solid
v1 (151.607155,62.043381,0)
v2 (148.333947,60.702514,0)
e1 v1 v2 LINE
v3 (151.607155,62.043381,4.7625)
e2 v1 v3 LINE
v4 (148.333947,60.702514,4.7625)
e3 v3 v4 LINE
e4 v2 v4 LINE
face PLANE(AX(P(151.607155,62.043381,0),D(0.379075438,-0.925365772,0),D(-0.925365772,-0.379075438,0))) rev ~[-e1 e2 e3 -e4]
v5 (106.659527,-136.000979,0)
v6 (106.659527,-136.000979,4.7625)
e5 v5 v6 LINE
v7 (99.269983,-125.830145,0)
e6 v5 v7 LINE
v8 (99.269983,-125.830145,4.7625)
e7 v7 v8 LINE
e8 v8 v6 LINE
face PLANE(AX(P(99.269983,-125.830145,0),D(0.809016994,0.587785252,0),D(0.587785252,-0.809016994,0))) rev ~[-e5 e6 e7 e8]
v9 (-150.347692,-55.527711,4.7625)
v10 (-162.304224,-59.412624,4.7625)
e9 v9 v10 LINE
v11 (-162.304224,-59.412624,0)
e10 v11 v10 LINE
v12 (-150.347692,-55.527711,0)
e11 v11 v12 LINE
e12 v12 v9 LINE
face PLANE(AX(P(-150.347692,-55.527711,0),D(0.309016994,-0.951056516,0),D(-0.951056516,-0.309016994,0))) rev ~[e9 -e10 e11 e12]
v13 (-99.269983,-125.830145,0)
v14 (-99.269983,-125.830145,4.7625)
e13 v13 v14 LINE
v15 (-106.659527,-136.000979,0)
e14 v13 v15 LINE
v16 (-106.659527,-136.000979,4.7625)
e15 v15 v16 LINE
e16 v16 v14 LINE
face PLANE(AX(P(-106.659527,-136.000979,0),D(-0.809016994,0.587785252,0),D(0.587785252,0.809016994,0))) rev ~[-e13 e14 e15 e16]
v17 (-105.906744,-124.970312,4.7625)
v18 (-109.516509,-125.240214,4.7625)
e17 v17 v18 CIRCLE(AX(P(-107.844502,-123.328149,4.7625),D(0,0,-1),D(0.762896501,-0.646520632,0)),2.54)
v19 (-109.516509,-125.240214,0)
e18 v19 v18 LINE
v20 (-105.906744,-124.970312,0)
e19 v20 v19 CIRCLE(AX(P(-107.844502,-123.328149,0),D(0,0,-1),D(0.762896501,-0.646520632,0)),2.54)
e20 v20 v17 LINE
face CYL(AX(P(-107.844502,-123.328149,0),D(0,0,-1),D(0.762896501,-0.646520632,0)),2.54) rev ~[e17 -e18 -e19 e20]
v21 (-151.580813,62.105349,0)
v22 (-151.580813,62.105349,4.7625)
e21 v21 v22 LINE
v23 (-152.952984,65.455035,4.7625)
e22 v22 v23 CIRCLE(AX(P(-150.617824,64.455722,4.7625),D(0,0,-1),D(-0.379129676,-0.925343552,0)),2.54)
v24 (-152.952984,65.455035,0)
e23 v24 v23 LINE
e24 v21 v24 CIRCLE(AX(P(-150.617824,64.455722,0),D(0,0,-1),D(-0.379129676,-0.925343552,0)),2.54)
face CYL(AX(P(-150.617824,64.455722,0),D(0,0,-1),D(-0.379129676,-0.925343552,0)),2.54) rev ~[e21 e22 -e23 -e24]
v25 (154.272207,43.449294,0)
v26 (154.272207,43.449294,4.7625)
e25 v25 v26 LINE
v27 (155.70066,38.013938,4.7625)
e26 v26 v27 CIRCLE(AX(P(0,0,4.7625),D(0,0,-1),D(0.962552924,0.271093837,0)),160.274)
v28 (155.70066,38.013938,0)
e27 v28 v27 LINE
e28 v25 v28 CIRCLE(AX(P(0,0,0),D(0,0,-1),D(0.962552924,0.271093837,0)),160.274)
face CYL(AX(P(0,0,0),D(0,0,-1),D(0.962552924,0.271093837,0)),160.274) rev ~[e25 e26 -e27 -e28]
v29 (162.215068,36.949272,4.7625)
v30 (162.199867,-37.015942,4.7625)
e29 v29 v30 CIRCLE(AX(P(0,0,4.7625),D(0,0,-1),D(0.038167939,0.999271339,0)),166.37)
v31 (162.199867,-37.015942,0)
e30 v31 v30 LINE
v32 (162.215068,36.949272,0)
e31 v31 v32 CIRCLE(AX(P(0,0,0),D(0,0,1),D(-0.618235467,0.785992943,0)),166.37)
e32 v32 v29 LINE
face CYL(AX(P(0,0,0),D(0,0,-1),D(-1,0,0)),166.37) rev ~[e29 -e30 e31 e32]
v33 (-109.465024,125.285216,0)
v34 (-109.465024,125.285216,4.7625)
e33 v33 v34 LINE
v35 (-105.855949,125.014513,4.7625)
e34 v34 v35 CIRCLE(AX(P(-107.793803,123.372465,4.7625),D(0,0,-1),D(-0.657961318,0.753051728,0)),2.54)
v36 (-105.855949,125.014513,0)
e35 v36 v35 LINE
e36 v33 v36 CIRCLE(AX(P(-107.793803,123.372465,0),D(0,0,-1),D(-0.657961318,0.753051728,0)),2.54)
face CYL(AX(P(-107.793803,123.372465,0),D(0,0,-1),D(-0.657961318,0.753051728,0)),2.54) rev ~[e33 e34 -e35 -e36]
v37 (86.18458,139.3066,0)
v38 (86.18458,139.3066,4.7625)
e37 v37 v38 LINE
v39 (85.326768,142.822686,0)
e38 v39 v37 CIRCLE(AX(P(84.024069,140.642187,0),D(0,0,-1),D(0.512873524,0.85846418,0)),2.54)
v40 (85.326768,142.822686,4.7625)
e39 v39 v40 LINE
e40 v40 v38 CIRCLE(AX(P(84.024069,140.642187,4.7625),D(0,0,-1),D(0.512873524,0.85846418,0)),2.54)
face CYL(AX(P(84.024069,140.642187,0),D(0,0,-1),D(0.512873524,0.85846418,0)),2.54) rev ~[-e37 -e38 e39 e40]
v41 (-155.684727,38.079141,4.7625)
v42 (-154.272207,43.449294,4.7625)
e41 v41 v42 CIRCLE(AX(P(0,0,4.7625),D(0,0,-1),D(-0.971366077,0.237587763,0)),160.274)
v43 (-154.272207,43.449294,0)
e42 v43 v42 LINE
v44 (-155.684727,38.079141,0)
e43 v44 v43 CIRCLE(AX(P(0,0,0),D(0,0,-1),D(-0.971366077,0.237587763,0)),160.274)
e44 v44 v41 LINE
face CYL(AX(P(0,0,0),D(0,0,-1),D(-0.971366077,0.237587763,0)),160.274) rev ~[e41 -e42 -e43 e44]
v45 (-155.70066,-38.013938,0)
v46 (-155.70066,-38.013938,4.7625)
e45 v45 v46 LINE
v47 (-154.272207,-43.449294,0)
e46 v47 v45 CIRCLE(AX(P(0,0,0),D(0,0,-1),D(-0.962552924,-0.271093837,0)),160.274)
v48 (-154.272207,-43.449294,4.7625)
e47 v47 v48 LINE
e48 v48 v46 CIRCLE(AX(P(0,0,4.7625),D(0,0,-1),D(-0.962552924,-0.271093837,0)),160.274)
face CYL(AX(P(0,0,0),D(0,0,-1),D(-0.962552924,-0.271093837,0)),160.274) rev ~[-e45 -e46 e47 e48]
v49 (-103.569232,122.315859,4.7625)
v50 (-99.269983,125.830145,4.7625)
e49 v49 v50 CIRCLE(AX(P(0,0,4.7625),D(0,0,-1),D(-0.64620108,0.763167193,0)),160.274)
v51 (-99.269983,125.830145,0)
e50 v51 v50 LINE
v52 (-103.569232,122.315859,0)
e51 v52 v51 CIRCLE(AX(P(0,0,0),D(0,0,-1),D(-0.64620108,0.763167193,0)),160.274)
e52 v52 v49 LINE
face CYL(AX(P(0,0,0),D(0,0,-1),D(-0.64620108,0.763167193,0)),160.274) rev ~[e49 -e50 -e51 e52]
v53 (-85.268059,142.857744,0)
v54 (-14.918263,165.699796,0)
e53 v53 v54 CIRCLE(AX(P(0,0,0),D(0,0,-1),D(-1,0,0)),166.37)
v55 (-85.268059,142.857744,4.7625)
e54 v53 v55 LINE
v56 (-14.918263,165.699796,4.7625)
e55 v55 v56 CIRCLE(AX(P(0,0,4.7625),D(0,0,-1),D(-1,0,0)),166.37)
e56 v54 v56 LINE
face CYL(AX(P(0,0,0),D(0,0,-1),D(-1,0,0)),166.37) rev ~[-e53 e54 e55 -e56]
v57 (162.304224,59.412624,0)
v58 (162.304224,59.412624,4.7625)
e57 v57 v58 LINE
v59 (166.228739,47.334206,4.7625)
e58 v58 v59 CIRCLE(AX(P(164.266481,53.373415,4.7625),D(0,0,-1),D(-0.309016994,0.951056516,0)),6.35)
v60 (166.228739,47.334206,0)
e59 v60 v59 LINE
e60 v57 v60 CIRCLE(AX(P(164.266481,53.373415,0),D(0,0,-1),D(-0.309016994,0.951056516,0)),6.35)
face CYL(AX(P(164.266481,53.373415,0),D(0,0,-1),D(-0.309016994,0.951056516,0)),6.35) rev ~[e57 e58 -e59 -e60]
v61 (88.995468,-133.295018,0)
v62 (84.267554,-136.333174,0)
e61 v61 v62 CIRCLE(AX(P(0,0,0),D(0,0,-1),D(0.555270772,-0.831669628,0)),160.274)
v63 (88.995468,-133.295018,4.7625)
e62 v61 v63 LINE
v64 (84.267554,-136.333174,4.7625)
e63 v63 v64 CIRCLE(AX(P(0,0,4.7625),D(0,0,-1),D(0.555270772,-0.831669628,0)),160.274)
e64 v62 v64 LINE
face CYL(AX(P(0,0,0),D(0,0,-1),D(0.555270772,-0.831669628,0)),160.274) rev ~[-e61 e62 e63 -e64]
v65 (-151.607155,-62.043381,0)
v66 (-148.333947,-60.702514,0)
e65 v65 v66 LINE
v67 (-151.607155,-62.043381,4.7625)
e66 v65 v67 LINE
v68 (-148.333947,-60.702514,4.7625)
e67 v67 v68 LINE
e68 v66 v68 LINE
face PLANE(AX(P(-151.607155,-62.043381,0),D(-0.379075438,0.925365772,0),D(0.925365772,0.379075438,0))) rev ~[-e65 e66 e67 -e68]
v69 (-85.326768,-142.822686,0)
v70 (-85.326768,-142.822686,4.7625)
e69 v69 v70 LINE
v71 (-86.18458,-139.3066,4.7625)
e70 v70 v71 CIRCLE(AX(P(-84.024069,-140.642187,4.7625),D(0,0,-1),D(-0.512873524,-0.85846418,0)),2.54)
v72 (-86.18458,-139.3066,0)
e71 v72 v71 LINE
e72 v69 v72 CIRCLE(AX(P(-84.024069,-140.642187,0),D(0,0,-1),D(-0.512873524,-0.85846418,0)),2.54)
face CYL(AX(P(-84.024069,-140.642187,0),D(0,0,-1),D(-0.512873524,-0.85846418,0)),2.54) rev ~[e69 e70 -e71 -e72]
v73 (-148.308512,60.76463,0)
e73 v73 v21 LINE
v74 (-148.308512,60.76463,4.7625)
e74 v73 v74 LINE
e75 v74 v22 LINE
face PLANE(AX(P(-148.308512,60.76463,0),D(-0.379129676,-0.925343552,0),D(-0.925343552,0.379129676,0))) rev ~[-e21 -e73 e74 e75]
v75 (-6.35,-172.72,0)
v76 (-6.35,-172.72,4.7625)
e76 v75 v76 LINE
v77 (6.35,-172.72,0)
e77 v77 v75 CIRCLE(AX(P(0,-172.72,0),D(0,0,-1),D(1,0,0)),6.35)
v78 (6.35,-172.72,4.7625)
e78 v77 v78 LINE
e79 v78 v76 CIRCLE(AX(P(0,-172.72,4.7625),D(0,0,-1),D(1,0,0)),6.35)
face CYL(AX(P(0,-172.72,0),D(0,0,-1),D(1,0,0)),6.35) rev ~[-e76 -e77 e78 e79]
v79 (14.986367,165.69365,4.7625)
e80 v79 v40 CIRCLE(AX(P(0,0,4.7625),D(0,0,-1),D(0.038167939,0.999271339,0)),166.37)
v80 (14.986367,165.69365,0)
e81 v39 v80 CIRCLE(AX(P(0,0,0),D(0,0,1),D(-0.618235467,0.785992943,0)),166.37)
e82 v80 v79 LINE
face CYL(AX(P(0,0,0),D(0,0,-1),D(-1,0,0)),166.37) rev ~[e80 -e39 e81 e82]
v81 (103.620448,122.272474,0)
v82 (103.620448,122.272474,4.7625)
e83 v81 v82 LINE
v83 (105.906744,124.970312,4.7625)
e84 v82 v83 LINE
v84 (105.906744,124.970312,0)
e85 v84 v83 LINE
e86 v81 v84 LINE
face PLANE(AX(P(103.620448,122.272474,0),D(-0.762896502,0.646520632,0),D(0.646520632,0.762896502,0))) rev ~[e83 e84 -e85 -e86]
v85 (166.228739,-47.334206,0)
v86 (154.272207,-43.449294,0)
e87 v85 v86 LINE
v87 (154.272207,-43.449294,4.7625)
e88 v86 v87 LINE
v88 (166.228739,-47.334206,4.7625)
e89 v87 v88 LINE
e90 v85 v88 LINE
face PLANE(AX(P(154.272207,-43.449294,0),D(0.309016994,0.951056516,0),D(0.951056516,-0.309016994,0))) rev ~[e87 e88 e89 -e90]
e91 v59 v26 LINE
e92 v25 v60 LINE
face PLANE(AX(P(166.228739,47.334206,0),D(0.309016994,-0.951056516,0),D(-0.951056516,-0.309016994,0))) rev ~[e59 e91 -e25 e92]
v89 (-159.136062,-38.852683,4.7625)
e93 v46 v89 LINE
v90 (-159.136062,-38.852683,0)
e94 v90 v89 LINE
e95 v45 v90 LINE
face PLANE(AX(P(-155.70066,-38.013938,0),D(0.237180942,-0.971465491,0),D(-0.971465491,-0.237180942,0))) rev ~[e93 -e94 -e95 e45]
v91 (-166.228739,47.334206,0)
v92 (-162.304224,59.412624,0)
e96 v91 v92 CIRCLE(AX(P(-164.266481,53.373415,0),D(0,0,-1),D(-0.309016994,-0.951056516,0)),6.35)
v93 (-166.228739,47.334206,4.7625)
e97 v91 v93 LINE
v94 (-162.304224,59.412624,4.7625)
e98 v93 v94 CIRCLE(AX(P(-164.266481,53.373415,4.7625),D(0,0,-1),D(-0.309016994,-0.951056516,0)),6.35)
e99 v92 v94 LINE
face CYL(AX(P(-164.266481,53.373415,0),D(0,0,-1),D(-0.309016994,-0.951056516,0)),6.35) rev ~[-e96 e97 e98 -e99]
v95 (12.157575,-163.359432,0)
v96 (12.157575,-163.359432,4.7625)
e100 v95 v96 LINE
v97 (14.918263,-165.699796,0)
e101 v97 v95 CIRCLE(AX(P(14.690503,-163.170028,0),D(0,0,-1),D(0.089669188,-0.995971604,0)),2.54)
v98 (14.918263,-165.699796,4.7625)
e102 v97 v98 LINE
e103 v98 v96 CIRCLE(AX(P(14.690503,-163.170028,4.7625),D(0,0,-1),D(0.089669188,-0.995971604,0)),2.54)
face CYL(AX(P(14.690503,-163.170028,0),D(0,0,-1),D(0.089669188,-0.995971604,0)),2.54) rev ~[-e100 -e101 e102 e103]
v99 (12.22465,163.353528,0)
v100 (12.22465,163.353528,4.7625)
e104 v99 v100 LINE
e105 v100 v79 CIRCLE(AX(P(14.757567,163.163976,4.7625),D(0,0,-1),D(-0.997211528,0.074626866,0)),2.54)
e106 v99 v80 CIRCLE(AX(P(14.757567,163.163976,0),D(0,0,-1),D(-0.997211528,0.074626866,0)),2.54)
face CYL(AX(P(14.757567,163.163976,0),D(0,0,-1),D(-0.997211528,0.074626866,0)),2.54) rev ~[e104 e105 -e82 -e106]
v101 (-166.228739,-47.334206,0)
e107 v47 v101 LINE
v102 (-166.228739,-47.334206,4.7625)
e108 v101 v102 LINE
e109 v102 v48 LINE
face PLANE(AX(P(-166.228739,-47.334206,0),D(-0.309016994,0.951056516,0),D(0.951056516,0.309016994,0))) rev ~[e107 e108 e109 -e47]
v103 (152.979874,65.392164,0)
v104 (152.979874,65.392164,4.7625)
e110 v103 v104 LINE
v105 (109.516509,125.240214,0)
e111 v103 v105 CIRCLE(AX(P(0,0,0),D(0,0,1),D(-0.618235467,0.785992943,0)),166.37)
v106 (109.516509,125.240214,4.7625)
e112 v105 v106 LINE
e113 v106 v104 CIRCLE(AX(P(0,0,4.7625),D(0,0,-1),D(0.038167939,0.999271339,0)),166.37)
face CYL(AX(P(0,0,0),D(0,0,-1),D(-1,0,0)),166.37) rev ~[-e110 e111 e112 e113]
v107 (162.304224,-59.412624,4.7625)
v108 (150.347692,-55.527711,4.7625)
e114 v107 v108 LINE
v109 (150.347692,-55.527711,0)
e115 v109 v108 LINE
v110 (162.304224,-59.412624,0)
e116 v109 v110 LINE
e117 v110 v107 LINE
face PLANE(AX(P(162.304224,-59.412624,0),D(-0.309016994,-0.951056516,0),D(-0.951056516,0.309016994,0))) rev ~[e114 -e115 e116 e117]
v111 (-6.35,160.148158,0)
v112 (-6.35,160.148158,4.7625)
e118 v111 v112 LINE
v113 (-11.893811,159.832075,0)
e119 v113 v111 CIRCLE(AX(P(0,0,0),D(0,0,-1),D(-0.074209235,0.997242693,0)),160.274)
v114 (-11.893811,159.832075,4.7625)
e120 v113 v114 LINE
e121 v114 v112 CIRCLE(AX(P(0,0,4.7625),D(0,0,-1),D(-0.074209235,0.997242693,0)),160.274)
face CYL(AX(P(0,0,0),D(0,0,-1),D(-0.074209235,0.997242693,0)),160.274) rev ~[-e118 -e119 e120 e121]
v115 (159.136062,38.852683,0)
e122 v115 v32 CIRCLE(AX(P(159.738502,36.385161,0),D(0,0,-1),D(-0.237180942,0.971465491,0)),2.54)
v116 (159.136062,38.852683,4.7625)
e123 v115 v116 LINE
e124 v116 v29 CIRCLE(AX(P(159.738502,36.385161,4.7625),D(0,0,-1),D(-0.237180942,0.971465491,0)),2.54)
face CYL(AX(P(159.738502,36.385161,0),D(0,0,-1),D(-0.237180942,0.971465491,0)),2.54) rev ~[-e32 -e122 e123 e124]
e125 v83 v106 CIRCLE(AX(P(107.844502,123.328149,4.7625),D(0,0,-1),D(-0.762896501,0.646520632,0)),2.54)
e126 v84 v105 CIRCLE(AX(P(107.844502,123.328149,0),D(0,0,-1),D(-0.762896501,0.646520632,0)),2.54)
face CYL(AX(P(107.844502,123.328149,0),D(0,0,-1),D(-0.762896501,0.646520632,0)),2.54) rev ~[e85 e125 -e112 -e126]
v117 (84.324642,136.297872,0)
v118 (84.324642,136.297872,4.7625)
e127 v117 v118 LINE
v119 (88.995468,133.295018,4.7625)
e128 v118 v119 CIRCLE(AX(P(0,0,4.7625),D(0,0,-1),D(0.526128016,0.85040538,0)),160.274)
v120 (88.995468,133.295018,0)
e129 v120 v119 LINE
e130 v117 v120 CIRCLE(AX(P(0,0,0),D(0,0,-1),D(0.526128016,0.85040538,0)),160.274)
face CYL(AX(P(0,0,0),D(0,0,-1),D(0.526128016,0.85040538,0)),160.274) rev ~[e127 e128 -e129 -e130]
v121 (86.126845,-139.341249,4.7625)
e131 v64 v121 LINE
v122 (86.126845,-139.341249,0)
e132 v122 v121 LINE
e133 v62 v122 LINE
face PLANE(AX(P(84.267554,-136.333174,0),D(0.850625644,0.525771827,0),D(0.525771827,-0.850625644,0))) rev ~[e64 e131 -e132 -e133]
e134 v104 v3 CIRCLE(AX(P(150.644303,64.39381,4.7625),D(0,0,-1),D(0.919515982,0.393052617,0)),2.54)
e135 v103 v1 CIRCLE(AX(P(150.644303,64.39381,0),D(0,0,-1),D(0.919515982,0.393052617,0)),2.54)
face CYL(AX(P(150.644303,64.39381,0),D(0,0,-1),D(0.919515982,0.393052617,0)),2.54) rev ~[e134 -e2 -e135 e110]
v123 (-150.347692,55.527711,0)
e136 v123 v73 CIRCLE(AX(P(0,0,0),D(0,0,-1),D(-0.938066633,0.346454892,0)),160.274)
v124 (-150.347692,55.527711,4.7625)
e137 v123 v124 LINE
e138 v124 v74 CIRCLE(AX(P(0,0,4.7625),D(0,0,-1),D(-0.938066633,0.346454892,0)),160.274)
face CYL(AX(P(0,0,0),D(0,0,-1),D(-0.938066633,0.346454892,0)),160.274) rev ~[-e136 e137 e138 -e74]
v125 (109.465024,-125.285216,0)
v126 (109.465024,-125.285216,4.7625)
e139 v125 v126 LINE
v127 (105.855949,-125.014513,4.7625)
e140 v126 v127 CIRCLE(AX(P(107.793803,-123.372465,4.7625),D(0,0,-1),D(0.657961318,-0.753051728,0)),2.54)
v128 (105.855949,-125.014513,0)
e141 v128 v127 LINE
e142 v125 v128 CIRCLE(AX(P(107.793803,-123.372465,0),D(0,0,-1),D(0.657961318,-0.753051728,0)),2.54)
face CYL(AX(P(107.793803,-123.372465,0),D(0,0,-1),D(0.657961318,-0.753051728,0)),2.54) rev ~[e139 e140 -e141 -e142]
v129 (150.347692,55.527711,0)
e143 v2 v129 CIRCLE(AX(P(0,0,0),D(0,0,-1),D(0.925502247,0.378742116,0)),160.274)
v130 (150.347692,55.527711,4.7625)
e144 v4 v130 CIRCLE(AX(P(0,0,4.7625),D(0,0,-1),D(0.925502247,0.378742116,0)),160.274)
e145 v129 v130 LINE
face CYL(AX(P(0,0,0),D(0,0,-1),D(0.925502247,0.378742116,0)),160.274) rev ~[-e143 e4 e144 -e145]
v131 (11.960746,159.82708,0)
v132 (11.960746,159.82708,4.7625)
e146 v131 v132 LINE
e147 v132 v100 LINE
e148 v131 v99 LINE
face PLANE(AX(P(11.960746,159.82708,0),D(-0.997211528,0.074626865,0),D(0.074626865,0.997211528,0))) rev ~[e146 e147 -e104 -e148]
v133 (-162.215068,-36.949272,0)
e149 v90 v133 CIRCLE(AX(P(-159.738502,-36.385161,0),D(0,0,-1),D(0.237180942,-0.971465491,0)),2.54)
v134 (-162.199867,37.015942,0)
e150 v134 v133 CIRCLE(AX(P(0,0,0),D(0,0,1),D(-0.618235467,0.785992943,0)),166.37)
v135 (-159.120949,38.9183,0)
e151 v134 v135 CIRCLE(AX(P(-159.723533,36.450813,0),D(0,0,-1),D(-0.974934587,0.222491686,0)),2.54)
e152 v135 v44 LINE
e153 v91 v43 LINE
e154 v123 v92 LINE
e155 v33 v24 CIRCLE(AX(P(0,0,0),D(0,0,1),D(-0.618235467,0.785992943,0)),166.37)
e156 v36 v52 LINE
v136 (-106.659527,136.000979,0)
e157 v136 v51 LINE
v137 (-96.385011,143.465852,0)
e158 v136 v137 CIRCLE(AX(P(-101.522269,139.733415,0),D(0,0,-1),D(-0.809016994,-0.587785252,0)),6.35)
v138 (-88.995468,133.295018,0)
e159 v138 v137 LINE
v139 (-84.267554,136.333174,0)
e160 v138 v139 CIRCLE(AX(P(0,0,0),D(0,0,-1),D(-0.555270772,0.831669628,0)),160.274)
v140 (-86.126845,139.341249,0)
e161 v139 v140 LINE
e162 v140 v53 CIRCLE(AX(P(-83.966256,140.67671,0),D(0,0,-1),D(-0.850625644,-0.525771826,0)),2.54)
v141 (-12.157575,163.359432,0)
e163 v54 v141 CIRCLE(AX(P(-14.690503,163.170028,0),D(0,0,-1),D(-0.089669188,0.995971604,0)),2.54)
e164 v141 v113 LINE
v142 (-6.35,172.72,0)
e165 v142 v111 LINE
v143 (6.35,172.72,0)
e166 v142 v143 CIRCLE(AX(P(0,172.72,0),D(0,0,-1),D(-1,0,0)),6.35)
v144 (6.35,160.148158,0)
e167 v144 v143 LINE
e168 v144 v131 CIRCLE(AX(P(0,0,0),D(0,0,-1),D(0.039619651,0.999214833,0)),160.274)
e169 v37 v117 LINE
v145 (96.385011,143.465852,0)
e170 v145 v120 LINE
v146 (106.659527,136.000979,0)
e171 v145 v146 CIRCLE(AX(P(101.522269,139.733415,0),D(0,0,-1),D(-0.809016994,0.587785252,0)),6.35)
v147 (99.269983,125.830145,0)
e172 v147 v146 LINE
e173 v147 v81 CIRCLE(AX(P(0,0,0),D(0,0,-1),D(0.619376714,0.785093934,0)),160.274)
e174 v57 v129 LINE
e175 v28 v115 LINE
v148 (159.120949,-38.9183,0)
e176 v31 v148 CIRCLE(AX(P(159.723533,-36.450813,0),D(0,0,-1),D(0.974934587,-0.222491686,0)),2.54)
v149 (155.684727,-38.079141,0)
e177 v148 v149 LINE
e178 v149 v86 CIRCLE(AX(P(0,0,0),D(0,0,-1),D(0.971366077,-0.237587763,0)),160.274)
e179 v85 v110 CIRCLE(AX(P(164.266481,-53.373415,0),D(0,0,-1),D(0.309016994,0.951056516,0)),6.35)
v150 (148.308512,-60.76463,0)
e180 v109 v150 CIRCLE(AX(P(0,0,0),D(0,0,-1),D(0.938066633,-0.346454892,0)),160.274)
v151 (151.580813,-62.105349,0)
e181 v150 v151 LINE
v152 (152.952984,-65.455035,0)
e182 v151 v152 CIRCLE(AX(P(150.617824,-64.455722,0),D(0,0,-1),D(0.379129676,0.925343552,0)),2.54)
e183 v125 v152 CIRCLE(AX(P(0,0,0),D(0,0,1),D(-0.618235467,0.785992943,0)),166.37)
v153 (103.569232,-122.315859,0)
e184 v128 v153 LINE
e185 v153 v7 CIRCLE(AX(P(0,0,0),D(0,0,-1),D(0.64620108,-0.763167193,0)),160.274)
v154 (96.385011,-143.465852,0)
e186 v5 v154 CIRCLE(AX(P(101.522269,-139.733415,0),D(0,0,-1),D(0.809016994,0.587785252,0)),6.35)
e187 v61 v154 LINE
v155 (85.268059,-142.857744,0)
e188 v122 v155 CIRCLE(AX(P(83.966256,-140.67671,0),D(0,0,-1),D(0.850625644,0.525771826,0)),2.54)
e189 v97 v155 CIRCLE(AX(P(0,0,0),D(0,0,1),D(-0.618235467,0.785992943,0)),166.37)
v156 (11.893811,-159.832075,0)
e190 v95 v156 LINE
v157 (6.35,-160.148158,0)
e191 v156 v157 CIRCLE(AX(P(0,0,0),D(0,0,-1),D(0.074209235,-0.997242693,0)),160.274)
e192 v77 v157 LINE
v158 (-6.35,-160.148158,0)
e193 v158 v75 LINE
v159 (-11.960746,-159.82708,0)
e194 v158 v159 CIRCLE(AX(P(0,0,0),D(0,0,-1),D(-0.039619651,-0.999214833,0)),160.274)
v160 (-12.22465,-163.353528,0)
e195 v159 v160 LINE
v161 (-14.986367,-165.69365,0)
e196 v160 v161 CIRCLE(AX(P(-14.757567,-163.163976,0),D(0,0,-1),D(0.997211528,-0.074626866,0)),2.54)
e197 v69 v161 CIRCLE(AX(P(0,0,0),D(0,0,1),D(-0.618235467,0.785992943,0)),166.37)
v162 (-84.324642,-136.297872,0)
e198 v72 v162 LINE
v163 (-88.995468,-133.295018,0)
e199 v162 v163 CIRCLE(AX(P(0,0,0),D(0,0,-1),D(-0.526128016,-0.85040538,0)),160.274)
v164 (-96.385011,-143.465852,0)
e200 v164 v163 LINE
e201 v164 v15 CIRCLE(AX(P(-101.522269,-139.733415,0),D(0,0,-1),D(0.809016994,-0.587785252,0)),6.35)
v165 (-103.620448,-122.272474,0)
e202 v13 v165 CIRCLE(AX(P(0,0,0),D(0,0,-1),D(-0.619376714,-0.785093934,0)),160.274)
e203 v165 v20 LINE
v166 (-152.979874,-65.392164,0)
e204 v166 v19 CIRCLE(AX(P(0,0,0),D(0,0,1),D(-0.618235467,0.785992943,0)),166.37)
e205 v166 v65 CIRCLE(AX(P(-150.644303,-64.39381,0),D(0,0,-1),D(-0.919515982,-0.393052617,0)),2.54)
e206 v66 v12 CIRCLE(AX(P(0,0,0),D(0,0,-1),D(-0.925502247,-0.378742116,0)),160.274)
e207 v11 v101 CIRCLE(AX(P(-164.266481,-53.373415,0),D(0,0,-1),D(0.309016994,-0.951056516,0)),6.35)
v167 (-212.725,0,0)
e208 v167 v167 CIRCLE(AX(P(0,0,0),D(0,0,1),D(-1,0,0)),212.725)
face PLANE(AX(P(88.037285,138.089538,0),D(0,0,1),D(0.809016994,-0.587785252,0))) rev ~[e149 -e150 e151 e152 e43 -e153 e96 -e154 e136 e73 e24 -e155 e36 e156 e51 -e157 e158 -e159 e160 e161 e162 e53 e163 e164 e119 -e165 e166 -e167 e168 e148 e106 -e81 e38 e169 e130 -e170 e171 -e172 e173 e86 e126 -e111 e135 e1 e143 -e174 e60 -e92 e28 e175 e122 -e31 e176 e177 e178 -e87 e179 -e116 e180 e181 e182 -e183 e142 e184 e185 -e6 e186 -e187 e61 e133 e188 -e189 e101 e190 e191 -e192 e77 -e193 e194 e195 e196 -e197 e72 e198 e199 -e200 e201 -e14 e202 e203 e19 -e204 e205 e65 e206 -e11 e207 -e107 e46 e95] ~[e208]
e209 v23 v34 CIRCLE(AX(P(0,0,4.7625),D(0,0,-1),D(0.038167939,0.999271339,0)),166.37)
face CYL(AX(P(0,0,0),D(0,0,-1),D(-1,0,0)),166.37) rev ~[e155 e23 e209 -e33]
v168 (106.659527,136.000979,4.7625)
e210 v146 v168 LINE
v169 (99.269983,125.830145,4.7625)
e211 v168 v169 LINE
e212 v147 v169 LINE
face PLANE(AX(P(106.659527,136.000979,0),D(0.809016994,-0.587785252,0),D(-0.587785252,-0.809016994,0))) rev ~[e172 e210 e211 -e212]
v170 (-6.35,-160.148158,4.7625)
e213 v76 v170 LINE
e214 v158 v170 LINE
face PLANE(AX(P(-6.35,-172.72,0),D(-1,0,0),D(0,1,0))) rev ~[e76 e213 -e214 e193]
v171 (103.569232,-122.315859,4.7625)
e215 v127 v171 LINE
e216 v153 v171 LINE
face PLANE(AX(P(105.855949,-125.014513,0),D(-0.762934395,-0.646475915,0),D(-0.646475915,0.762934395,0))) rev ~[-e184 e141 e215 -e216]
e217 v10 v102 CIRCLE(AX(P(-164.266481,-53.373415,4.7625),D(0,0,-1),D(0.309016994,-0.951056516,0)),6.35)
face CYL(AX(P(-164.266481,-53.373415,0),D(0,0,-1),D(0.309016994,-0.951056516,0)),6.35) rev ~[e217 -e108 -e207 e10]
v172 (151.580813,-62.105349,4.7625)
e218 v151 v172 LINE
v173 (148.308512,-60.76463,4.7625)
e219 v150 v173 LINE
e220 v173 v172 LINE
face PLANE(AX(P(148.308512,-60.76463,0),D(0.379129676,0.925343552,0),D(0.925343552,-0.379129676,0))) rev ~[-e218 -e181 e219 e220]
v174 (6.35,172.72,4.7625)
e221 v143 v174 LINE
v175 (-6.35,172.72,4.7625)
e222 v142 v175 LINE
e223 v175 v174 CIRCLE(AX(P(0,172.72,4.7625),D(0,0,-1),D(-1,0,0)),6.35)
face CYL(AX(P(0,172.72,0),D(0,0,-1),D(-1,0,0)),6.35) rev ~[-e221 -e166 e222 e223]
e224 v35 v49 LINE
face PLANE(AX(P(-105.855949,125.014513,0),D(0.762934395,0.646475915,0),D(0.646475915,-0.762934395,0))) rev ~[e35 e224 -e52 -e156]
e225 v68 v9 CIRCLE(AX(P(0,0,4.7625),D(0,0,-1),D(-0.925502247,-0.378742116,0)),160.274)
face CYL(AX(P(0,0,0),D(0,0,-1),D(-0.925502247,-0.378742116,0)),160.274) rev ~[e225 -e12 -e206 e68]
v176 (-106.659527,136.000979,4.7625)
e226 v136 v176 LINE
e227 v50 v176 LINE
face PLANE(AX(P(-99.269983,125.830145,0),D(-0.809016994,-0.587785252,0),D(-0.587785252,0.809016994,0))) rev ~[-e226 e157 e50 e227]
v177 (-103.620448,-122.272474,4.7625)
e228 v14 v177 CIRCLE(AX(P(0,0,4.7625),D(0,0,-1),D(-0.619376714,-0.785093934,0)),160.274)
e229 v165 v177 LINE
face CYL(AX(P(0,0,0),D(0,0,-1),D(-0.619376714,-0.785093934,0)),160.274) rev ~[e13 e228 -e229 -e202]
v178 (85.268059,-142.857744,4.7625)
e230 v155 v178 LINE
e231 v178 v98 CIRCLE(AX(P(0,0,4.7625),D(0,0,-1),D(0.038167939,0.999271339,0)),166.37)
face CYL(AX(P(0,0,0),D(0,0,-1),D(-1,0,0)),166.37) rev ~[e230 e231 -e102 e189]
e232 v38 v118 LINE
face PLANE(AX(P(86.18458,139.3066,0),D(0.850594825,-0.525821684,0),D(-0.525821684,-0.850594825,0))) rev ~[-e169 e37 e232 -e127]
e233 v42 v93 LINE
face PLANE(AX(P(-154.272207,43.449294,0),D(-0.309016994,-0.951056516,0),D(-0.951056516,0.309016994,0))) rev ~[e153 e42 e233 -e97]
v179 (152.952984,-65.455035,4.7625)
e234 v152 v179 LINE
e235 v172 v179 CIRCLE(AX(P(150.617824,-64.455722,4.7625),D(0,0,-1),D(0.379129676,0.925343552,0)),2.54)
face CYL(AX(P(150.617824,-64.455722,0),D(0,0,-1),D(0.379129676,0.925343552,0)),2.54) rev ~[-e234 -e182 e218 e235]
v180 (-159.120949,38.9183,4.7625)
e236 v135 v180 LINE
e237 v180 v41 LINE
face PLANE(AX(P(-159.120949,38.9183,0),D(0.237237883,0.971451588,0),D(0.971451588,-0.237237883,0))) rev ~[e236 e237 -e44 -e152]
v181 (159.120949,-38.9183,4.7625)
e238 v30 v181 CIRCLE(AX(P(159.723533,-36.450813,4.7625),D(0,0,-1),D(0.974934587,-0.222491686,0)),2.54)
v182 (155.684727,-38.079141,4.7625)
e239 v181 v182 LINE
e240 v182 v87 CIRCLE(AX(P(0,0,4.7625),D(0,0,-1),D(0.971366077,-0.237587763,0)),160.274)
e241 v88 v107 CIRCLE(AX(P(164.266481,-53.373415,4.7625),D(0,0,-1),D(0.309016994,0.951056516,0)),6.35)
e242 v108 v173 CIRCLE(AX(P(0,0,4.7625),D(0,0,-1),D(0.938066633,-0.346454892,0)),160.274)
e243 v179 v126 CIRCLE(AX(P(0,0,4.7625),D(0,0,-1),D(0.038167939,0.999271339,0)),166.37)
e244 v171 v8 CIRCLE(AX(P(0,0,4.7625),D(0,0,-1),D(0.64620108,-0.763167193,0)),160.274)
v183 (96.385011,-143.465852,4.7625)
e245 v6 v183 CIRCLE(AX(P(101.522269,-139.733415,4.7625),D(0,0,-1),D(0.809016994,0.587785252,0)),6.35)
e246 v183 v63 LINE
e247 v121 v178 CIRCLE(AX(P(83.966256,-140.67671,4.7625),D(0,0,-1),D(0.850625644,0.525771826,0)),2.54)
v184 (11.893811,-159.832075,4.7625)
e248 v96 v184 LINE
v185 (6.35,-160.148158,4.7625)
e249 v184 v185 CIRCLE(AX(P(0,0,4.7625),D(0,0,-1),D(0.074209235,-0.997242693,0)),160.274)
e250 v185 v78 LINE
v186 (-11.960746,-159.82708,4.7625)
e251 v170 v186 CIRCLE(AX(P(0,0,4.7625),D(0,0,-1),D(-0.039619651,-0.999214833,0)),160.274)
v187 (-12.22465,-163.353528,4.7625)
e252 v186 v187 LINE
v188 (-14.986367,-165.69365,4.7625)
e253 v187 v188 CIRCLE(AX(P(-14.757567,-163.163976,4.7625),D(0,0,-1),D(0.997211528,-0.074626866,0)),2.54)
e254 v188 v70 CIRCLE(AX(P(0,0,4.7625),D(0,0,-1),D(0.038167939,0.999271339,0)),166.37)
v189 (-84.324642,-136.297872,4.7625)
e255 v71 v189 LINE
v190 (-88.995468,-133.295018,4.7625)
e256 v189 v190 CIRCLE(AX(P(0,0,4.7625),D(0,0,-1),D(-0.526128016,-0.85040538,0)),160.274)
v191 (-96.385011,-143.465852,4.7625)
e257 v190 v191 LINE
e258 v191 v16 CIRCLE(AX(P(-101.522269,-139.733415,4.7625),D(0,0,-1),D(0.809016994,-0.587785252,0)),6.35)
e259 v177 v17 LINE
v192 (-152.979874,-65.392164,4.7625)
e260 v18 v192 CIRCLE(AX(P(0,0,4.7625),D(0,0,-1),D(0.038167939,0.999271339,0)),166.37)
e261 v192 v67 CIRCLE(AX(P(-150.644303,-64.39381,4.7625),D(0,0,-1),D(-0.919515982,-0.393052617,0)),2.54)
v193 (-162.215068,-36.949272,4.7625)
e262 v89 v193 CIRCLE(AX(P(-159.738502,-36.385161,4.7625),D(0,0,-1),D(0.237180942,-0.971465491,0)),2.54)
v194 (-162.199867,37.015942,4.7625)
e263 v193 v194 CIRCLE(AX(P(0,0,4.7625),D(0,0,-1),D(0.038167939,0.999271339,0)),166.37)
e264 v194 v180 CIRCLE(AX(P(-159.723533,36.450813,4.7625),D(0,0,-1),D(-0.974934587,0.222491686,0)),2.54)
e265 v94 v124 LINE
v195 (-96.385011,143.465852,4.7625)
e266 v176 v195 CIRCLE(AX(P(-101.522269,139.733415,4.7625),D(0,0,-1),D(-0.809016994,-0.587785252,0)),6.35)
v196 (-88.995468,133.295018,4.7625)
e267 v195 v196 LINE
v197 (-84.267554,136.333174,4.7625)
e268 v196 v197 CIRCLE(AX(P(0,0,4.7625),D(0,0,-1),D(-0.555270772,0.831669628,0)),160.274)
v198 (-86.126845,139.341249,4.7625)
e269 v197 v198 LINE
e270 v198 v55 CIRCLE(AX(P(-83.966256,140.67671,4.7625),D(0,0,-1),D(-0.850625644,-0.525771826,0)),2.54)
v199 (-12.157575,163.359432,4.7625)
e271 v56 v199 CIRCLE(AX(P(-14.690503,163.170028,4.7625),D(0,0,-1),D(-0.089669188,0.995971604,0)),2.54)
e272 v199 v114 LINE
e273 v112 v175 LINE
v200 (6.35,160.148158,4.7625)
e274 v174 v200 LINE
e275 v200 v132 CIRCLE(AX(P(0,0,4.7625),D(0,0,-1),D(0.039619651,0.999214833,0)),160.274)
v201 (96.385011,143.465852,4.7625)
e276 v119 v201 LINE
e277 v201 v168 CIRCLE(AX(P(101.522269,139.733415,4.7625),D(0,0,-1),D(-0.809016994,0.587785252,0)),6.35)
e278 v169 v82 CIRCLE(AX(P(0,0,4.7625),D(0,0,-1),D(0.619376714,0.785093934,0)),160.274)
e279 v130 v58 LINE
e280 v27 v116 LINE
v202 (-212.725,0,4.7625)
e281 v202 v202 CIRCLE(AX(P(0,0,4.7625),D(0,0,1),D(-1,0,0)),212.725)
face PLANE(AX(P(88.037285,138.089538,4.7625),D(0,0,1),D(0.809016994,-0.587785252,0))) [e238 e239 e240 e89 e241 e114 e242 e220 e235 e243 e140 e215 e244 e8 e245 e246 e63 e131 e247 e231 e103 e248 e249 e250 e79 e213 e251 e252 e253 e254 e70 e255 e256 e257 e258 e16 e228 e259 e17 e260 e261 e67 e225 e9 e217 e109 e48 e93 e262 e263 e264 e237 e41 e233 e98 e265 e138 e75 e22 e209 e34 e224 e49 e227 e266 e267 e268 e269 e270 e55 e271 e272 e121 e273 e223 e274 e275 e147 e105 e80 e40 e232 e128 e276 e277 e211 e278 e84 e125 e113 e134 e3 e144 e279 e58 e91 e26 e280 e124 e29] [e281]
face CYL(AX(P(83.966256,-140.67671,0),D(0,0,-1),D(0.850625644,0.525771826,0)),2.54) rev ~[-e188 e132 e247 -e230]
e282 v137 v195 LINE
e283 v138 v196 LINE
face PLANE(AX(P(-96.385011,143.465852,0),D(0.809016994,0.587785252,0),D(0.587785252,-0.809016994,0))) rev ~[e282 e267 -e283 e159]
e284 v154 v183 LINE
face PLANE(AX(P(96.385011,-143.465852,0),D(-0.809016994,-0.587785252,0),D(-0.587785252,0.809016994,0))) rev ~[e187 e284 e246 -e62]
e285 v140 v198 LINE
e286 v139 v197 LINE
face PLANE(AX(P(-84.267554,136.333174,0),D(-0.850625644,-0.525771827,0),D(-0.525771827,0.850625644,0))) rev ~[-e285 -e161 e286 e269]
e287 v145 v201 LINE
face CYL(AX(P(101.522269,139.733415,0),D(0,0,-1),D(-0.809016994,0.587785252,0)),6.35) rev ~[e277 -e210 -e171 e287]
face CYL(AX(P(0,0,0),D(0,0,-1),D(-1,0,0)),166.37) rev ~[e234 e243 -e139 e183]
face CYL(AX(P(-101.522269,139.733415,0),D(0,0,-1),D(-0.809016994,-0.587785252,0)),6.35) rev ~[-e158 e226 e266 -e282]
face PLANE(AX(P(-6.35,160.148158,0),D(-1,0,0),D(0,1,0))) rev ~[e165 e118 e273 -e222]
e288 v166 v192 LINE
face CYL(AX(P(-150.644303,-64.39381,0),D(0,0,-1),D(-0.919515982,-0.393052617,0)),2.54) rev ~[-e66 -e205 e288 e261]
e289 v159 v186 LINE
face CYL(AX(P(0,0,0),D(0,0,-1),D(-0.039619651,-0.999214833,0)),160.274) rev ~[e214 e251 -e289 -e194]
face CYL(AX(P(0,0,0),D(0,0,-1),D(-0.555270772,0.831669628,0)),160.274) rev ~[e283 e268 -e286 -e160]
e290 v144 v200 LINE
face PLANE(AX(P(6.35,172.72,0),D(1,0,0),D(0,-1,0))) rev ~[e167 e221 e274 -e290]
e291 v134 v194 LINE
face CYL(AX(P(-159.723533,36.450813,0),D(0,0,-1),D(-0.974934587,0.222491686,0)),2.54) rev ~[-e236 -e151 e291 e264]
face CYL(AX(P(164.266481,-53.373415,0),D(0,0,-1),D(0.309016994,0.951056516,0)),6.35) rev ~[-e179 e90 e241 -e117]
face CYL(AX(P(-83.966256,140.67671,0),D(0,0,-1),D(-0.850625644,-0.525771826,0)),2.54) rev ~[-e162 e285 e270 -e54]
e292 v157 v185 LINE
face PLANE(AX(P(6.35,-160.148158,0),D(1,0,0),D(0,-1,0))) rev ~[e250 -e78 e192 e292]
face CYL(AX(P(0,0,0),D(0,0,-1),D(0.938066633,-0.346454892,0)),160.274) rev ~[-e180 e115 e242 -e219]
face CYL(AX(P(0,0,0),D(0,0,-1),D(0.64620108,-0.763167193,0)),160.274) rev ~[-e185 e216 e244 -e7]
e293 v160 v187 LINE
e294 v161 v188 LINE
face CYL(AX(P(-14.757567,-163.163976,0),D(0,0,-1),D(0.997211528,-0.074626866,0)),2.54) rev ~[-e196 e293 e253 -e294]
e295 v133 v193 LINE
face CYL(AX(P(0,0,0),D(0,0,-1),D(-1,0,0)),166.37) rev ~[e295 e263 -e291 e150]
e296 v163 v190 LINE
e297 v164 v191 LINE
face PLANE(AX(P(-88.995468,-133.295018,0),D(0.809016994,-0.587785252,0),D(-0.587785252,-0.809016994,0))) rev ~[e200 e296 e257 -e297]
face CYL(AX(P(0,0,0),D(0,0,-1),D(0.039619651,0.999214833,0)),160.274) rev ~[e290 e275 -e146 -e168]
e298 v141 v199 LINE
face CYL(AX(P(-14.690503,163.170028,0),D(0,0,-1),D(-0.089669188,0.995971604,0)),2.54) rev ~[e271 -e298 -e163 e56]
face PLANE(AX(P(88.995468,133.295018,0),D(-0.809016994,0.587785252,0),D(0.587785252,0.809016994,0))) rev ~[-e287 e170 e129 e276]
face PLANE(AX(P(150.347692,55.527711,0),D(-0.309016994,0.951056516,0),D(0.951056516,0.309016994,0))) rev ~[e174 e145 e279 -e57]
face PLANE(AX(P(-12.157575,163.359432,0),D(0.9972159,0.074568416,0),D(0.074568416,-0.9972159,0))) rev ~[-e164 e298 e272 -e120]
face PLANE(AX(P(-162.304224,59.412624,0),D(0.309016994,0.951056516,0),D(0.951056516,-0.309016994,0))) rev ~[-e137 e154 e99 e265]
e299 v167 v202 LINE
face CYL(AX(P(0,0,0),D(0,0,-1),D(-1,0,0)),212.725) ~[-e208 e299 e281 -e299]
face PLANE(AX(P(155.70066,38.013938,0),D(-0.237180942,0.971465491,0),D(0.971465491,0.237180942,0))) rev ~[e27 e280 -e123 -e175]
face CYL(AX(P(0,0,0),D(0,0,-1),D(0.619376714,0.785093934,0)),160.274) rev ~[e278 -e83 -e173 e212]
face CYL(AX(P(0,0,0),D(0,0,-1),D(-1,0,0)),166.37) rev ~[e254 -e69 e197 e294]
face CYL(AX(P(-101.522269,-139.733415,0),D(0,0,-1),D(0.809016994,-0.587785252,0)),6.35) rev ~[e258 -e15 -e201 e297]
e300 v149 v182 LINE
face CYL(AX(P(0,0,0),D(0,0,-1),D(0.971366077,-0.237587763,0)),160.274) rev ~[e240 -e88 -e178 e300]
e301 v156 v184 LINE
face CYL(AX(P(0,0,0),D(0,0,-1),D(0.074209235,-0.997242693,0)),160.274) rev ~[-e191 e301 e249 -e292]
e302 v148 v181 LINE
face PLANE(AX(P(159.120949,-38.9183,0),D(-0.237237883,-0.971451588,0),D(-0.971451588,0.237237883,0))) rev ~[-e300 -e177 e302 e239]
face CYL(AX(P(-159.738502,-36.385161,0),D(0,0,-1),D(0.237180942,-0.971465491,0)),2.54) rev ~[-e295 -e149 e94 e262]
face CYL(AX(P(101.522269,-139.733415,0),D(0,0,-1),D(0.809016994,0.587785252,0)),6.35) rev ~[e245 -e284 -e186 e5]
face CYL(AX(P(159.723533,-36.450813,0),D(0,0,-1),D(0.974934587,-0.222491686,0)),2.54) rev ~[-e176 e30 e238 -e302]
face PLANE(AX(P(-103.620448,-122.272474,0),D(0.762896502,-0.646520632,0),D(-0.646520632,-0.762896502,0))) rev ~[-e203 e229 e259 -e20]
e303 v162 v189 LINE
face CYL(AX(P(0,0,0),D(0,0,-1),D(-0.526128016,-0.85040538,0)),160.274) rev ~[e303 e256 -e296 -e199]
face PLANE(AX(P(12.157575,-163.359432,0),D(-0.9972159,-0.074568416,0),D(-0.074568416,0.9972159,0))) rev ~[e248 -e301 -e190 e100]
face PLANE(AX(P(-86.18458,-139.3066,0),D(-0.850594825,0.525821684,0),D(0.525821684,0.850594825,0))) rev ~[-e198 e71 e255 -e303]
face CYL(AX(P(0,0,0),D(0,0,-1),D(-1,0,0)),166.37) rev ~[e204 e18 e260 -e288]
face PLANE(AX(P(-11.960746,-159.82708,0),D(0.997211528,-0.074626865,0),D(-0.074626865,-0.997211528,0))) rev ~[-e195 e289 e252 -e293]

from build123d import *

# Parameters (mm, degrees)
SKETCH1_R           = 212.725
BOSS_EXTRUDE1_DEPTH = 4.7625
SKETCH8_R           = 166.37
CUT_EXTRUDE1_DEPTH  = 4.7625
CUT_EXTRUDE3_DEPTH  = 4.7625
CIRPATTERN1_COUNT   = 10
BOSS_EXTRUDE2_START = -4.7625
BOSS_EXTRUDE2_DEPTH = 4.7625
CIRPATTERN2_COUNT   = 10


with BuildPart() as part:
    # Sketch1 → Boss-Extrude1 (new body)
    with BuildSketch(Plane.XY):
        with Locations(Location((0, 0, 0), (0, 0, 180))):
            Circle(SKETCH1_R)
    extrude(amount=BOSS_EXTRUDE1_DEPTH)

    # Sketch8 → Cut-Extrude1 (cut)
    with BuildSketch(Plane(origin=(0, 0, 0), x_dir=(-1, 0, 0), z_dir=(0, 0, -1))):
        Circle(SKETCH8_R)
    extrude(amount=-CUT_EXTRUDE1_DEPTH, mode=Mode.SUBTRACT)

    # Sketch9 → Cut-Extrude3 (cut)
    with BuildSketch(Plane(origin=(0, 0, 0), x_dir=(-1, 0, 0), z_dir=(0, 0, -1))):
        with BuildLine():
            ThreePointArc((6.35, 172.72), (0, 179.07), (-6.35, 172.72))
            Line((-6.35, 172.72), (6.35, 172.72))
        make_face()
        with BuildLine():
            Line((6.35, 172.72), (-6.35, 172.72))
            ThreePointArc((-6.35, 172.72), (-4.490128088, 168.229871967), (-7.7e-08, 166.37))
            ThreePointArc((-7.7e-08, 166.37), (4.490128033, 168.229871912), (6.35, 172.72))
        make_face()
        with BuildLine():
            ThreePointArc((-7.7e-08, 166.37), (3.175578494, 166.339690397), (6.35, 166.248772627))
            Line((6.35, 166.248772627), (6.35, 172.72))
            ThreePointArc((6.35, 172.72), (4.490128033, 168.229871912), (-7.7e-08, 166.37))
        make_face()
        with BuildLine():
            Line((-6.35, 172.72), (-6.35, 166.248772627))
            ThreePointArc((-6.35, 166.248772627), (-3.175578572, 166.339690395), (-7.7e-08, 166.37))
            ThreePointArc((-7.7e-08, 166.37), (-4.490128088, 168.229871967), (-6.35, 172.72))
        make_face()
    cut_extrude3 = extrude(amount=-CUT_EXTRUDE3_DEPTH, mode=Mode.SUBTRACT)

    # CirPattern1: Cut-Extrude3 ×10 about axis
    cirpattern1_axis = Axis((0, 0, 0), (0, 0, 1))
    for i in range(1, CIRPATTERN1_COUNT):
        add(cut_extrude3.rotate(cirpattern1_axis, i * 360 / CIRPATTERN1_COUNT), mode=Mode.SUBTRACT)

    # Sketch11 → Boss-Extrude2 (add)
    with BuildSketch(Plane.XY.offset(4.7625).offset(BOSS_EXTRUDE2_START)):
        with BuildLine():
            Line((-12.157574607, 163.359431727), (-11.893810893, 159.832075437))
            ThreePointArc((-11.893810893, 159.832075437), (-9.123274415, 160.014127314), (-6.35, 160.148158204))
            Line((-6.35, 160.148158204), (-6.35, 166.248772627))
            ThreePointArc((-6.35, 166.248772627), (-10.637673325, 166.029566061), (-14.918262729, 165.699795827))
            ThreePointArc((-14.918262729, 165.699795827), (-13.048012002, 165.107506557), (-12.157574607, 163.359431727))
        make_face()
        with BuildLine():
            ThreePointArc((14.986366689, 165.693650191), (10.671793481, 166.027376429), (6.35, 166.248772627))
            Line((6.35, 166.248772627), (6.35, 160.148158204))
            ThreePointArc((6.35, 160.148158204), (9.156780546, 160.012213428), (11.960746269, 159.827080386))
            Line((11.960746269, 159.827080386), (12.224649917, 163.353528381))
            ThreePointArc((12.224649917, 163.353528381), (13.1155312, 165.101840374), (14.986366689, 165.693650191))
        make_face()
    boss_extrude2 = extrude(amount=BOSS_EXTRUDE2_DEPTH)

    # CirPattern2: Boss-Extrude2 ×10 about axis
    cirpattern2_axis = Axis((0, 0, 0), (0, 0, 1))
    for i in range(1, CIRPATTERN2_COUNT):
        add(boss_extrude2.rotate(cirpattern2_axis, i * 360 / CIRPATTERN2_COUNT))


solid = part.part
